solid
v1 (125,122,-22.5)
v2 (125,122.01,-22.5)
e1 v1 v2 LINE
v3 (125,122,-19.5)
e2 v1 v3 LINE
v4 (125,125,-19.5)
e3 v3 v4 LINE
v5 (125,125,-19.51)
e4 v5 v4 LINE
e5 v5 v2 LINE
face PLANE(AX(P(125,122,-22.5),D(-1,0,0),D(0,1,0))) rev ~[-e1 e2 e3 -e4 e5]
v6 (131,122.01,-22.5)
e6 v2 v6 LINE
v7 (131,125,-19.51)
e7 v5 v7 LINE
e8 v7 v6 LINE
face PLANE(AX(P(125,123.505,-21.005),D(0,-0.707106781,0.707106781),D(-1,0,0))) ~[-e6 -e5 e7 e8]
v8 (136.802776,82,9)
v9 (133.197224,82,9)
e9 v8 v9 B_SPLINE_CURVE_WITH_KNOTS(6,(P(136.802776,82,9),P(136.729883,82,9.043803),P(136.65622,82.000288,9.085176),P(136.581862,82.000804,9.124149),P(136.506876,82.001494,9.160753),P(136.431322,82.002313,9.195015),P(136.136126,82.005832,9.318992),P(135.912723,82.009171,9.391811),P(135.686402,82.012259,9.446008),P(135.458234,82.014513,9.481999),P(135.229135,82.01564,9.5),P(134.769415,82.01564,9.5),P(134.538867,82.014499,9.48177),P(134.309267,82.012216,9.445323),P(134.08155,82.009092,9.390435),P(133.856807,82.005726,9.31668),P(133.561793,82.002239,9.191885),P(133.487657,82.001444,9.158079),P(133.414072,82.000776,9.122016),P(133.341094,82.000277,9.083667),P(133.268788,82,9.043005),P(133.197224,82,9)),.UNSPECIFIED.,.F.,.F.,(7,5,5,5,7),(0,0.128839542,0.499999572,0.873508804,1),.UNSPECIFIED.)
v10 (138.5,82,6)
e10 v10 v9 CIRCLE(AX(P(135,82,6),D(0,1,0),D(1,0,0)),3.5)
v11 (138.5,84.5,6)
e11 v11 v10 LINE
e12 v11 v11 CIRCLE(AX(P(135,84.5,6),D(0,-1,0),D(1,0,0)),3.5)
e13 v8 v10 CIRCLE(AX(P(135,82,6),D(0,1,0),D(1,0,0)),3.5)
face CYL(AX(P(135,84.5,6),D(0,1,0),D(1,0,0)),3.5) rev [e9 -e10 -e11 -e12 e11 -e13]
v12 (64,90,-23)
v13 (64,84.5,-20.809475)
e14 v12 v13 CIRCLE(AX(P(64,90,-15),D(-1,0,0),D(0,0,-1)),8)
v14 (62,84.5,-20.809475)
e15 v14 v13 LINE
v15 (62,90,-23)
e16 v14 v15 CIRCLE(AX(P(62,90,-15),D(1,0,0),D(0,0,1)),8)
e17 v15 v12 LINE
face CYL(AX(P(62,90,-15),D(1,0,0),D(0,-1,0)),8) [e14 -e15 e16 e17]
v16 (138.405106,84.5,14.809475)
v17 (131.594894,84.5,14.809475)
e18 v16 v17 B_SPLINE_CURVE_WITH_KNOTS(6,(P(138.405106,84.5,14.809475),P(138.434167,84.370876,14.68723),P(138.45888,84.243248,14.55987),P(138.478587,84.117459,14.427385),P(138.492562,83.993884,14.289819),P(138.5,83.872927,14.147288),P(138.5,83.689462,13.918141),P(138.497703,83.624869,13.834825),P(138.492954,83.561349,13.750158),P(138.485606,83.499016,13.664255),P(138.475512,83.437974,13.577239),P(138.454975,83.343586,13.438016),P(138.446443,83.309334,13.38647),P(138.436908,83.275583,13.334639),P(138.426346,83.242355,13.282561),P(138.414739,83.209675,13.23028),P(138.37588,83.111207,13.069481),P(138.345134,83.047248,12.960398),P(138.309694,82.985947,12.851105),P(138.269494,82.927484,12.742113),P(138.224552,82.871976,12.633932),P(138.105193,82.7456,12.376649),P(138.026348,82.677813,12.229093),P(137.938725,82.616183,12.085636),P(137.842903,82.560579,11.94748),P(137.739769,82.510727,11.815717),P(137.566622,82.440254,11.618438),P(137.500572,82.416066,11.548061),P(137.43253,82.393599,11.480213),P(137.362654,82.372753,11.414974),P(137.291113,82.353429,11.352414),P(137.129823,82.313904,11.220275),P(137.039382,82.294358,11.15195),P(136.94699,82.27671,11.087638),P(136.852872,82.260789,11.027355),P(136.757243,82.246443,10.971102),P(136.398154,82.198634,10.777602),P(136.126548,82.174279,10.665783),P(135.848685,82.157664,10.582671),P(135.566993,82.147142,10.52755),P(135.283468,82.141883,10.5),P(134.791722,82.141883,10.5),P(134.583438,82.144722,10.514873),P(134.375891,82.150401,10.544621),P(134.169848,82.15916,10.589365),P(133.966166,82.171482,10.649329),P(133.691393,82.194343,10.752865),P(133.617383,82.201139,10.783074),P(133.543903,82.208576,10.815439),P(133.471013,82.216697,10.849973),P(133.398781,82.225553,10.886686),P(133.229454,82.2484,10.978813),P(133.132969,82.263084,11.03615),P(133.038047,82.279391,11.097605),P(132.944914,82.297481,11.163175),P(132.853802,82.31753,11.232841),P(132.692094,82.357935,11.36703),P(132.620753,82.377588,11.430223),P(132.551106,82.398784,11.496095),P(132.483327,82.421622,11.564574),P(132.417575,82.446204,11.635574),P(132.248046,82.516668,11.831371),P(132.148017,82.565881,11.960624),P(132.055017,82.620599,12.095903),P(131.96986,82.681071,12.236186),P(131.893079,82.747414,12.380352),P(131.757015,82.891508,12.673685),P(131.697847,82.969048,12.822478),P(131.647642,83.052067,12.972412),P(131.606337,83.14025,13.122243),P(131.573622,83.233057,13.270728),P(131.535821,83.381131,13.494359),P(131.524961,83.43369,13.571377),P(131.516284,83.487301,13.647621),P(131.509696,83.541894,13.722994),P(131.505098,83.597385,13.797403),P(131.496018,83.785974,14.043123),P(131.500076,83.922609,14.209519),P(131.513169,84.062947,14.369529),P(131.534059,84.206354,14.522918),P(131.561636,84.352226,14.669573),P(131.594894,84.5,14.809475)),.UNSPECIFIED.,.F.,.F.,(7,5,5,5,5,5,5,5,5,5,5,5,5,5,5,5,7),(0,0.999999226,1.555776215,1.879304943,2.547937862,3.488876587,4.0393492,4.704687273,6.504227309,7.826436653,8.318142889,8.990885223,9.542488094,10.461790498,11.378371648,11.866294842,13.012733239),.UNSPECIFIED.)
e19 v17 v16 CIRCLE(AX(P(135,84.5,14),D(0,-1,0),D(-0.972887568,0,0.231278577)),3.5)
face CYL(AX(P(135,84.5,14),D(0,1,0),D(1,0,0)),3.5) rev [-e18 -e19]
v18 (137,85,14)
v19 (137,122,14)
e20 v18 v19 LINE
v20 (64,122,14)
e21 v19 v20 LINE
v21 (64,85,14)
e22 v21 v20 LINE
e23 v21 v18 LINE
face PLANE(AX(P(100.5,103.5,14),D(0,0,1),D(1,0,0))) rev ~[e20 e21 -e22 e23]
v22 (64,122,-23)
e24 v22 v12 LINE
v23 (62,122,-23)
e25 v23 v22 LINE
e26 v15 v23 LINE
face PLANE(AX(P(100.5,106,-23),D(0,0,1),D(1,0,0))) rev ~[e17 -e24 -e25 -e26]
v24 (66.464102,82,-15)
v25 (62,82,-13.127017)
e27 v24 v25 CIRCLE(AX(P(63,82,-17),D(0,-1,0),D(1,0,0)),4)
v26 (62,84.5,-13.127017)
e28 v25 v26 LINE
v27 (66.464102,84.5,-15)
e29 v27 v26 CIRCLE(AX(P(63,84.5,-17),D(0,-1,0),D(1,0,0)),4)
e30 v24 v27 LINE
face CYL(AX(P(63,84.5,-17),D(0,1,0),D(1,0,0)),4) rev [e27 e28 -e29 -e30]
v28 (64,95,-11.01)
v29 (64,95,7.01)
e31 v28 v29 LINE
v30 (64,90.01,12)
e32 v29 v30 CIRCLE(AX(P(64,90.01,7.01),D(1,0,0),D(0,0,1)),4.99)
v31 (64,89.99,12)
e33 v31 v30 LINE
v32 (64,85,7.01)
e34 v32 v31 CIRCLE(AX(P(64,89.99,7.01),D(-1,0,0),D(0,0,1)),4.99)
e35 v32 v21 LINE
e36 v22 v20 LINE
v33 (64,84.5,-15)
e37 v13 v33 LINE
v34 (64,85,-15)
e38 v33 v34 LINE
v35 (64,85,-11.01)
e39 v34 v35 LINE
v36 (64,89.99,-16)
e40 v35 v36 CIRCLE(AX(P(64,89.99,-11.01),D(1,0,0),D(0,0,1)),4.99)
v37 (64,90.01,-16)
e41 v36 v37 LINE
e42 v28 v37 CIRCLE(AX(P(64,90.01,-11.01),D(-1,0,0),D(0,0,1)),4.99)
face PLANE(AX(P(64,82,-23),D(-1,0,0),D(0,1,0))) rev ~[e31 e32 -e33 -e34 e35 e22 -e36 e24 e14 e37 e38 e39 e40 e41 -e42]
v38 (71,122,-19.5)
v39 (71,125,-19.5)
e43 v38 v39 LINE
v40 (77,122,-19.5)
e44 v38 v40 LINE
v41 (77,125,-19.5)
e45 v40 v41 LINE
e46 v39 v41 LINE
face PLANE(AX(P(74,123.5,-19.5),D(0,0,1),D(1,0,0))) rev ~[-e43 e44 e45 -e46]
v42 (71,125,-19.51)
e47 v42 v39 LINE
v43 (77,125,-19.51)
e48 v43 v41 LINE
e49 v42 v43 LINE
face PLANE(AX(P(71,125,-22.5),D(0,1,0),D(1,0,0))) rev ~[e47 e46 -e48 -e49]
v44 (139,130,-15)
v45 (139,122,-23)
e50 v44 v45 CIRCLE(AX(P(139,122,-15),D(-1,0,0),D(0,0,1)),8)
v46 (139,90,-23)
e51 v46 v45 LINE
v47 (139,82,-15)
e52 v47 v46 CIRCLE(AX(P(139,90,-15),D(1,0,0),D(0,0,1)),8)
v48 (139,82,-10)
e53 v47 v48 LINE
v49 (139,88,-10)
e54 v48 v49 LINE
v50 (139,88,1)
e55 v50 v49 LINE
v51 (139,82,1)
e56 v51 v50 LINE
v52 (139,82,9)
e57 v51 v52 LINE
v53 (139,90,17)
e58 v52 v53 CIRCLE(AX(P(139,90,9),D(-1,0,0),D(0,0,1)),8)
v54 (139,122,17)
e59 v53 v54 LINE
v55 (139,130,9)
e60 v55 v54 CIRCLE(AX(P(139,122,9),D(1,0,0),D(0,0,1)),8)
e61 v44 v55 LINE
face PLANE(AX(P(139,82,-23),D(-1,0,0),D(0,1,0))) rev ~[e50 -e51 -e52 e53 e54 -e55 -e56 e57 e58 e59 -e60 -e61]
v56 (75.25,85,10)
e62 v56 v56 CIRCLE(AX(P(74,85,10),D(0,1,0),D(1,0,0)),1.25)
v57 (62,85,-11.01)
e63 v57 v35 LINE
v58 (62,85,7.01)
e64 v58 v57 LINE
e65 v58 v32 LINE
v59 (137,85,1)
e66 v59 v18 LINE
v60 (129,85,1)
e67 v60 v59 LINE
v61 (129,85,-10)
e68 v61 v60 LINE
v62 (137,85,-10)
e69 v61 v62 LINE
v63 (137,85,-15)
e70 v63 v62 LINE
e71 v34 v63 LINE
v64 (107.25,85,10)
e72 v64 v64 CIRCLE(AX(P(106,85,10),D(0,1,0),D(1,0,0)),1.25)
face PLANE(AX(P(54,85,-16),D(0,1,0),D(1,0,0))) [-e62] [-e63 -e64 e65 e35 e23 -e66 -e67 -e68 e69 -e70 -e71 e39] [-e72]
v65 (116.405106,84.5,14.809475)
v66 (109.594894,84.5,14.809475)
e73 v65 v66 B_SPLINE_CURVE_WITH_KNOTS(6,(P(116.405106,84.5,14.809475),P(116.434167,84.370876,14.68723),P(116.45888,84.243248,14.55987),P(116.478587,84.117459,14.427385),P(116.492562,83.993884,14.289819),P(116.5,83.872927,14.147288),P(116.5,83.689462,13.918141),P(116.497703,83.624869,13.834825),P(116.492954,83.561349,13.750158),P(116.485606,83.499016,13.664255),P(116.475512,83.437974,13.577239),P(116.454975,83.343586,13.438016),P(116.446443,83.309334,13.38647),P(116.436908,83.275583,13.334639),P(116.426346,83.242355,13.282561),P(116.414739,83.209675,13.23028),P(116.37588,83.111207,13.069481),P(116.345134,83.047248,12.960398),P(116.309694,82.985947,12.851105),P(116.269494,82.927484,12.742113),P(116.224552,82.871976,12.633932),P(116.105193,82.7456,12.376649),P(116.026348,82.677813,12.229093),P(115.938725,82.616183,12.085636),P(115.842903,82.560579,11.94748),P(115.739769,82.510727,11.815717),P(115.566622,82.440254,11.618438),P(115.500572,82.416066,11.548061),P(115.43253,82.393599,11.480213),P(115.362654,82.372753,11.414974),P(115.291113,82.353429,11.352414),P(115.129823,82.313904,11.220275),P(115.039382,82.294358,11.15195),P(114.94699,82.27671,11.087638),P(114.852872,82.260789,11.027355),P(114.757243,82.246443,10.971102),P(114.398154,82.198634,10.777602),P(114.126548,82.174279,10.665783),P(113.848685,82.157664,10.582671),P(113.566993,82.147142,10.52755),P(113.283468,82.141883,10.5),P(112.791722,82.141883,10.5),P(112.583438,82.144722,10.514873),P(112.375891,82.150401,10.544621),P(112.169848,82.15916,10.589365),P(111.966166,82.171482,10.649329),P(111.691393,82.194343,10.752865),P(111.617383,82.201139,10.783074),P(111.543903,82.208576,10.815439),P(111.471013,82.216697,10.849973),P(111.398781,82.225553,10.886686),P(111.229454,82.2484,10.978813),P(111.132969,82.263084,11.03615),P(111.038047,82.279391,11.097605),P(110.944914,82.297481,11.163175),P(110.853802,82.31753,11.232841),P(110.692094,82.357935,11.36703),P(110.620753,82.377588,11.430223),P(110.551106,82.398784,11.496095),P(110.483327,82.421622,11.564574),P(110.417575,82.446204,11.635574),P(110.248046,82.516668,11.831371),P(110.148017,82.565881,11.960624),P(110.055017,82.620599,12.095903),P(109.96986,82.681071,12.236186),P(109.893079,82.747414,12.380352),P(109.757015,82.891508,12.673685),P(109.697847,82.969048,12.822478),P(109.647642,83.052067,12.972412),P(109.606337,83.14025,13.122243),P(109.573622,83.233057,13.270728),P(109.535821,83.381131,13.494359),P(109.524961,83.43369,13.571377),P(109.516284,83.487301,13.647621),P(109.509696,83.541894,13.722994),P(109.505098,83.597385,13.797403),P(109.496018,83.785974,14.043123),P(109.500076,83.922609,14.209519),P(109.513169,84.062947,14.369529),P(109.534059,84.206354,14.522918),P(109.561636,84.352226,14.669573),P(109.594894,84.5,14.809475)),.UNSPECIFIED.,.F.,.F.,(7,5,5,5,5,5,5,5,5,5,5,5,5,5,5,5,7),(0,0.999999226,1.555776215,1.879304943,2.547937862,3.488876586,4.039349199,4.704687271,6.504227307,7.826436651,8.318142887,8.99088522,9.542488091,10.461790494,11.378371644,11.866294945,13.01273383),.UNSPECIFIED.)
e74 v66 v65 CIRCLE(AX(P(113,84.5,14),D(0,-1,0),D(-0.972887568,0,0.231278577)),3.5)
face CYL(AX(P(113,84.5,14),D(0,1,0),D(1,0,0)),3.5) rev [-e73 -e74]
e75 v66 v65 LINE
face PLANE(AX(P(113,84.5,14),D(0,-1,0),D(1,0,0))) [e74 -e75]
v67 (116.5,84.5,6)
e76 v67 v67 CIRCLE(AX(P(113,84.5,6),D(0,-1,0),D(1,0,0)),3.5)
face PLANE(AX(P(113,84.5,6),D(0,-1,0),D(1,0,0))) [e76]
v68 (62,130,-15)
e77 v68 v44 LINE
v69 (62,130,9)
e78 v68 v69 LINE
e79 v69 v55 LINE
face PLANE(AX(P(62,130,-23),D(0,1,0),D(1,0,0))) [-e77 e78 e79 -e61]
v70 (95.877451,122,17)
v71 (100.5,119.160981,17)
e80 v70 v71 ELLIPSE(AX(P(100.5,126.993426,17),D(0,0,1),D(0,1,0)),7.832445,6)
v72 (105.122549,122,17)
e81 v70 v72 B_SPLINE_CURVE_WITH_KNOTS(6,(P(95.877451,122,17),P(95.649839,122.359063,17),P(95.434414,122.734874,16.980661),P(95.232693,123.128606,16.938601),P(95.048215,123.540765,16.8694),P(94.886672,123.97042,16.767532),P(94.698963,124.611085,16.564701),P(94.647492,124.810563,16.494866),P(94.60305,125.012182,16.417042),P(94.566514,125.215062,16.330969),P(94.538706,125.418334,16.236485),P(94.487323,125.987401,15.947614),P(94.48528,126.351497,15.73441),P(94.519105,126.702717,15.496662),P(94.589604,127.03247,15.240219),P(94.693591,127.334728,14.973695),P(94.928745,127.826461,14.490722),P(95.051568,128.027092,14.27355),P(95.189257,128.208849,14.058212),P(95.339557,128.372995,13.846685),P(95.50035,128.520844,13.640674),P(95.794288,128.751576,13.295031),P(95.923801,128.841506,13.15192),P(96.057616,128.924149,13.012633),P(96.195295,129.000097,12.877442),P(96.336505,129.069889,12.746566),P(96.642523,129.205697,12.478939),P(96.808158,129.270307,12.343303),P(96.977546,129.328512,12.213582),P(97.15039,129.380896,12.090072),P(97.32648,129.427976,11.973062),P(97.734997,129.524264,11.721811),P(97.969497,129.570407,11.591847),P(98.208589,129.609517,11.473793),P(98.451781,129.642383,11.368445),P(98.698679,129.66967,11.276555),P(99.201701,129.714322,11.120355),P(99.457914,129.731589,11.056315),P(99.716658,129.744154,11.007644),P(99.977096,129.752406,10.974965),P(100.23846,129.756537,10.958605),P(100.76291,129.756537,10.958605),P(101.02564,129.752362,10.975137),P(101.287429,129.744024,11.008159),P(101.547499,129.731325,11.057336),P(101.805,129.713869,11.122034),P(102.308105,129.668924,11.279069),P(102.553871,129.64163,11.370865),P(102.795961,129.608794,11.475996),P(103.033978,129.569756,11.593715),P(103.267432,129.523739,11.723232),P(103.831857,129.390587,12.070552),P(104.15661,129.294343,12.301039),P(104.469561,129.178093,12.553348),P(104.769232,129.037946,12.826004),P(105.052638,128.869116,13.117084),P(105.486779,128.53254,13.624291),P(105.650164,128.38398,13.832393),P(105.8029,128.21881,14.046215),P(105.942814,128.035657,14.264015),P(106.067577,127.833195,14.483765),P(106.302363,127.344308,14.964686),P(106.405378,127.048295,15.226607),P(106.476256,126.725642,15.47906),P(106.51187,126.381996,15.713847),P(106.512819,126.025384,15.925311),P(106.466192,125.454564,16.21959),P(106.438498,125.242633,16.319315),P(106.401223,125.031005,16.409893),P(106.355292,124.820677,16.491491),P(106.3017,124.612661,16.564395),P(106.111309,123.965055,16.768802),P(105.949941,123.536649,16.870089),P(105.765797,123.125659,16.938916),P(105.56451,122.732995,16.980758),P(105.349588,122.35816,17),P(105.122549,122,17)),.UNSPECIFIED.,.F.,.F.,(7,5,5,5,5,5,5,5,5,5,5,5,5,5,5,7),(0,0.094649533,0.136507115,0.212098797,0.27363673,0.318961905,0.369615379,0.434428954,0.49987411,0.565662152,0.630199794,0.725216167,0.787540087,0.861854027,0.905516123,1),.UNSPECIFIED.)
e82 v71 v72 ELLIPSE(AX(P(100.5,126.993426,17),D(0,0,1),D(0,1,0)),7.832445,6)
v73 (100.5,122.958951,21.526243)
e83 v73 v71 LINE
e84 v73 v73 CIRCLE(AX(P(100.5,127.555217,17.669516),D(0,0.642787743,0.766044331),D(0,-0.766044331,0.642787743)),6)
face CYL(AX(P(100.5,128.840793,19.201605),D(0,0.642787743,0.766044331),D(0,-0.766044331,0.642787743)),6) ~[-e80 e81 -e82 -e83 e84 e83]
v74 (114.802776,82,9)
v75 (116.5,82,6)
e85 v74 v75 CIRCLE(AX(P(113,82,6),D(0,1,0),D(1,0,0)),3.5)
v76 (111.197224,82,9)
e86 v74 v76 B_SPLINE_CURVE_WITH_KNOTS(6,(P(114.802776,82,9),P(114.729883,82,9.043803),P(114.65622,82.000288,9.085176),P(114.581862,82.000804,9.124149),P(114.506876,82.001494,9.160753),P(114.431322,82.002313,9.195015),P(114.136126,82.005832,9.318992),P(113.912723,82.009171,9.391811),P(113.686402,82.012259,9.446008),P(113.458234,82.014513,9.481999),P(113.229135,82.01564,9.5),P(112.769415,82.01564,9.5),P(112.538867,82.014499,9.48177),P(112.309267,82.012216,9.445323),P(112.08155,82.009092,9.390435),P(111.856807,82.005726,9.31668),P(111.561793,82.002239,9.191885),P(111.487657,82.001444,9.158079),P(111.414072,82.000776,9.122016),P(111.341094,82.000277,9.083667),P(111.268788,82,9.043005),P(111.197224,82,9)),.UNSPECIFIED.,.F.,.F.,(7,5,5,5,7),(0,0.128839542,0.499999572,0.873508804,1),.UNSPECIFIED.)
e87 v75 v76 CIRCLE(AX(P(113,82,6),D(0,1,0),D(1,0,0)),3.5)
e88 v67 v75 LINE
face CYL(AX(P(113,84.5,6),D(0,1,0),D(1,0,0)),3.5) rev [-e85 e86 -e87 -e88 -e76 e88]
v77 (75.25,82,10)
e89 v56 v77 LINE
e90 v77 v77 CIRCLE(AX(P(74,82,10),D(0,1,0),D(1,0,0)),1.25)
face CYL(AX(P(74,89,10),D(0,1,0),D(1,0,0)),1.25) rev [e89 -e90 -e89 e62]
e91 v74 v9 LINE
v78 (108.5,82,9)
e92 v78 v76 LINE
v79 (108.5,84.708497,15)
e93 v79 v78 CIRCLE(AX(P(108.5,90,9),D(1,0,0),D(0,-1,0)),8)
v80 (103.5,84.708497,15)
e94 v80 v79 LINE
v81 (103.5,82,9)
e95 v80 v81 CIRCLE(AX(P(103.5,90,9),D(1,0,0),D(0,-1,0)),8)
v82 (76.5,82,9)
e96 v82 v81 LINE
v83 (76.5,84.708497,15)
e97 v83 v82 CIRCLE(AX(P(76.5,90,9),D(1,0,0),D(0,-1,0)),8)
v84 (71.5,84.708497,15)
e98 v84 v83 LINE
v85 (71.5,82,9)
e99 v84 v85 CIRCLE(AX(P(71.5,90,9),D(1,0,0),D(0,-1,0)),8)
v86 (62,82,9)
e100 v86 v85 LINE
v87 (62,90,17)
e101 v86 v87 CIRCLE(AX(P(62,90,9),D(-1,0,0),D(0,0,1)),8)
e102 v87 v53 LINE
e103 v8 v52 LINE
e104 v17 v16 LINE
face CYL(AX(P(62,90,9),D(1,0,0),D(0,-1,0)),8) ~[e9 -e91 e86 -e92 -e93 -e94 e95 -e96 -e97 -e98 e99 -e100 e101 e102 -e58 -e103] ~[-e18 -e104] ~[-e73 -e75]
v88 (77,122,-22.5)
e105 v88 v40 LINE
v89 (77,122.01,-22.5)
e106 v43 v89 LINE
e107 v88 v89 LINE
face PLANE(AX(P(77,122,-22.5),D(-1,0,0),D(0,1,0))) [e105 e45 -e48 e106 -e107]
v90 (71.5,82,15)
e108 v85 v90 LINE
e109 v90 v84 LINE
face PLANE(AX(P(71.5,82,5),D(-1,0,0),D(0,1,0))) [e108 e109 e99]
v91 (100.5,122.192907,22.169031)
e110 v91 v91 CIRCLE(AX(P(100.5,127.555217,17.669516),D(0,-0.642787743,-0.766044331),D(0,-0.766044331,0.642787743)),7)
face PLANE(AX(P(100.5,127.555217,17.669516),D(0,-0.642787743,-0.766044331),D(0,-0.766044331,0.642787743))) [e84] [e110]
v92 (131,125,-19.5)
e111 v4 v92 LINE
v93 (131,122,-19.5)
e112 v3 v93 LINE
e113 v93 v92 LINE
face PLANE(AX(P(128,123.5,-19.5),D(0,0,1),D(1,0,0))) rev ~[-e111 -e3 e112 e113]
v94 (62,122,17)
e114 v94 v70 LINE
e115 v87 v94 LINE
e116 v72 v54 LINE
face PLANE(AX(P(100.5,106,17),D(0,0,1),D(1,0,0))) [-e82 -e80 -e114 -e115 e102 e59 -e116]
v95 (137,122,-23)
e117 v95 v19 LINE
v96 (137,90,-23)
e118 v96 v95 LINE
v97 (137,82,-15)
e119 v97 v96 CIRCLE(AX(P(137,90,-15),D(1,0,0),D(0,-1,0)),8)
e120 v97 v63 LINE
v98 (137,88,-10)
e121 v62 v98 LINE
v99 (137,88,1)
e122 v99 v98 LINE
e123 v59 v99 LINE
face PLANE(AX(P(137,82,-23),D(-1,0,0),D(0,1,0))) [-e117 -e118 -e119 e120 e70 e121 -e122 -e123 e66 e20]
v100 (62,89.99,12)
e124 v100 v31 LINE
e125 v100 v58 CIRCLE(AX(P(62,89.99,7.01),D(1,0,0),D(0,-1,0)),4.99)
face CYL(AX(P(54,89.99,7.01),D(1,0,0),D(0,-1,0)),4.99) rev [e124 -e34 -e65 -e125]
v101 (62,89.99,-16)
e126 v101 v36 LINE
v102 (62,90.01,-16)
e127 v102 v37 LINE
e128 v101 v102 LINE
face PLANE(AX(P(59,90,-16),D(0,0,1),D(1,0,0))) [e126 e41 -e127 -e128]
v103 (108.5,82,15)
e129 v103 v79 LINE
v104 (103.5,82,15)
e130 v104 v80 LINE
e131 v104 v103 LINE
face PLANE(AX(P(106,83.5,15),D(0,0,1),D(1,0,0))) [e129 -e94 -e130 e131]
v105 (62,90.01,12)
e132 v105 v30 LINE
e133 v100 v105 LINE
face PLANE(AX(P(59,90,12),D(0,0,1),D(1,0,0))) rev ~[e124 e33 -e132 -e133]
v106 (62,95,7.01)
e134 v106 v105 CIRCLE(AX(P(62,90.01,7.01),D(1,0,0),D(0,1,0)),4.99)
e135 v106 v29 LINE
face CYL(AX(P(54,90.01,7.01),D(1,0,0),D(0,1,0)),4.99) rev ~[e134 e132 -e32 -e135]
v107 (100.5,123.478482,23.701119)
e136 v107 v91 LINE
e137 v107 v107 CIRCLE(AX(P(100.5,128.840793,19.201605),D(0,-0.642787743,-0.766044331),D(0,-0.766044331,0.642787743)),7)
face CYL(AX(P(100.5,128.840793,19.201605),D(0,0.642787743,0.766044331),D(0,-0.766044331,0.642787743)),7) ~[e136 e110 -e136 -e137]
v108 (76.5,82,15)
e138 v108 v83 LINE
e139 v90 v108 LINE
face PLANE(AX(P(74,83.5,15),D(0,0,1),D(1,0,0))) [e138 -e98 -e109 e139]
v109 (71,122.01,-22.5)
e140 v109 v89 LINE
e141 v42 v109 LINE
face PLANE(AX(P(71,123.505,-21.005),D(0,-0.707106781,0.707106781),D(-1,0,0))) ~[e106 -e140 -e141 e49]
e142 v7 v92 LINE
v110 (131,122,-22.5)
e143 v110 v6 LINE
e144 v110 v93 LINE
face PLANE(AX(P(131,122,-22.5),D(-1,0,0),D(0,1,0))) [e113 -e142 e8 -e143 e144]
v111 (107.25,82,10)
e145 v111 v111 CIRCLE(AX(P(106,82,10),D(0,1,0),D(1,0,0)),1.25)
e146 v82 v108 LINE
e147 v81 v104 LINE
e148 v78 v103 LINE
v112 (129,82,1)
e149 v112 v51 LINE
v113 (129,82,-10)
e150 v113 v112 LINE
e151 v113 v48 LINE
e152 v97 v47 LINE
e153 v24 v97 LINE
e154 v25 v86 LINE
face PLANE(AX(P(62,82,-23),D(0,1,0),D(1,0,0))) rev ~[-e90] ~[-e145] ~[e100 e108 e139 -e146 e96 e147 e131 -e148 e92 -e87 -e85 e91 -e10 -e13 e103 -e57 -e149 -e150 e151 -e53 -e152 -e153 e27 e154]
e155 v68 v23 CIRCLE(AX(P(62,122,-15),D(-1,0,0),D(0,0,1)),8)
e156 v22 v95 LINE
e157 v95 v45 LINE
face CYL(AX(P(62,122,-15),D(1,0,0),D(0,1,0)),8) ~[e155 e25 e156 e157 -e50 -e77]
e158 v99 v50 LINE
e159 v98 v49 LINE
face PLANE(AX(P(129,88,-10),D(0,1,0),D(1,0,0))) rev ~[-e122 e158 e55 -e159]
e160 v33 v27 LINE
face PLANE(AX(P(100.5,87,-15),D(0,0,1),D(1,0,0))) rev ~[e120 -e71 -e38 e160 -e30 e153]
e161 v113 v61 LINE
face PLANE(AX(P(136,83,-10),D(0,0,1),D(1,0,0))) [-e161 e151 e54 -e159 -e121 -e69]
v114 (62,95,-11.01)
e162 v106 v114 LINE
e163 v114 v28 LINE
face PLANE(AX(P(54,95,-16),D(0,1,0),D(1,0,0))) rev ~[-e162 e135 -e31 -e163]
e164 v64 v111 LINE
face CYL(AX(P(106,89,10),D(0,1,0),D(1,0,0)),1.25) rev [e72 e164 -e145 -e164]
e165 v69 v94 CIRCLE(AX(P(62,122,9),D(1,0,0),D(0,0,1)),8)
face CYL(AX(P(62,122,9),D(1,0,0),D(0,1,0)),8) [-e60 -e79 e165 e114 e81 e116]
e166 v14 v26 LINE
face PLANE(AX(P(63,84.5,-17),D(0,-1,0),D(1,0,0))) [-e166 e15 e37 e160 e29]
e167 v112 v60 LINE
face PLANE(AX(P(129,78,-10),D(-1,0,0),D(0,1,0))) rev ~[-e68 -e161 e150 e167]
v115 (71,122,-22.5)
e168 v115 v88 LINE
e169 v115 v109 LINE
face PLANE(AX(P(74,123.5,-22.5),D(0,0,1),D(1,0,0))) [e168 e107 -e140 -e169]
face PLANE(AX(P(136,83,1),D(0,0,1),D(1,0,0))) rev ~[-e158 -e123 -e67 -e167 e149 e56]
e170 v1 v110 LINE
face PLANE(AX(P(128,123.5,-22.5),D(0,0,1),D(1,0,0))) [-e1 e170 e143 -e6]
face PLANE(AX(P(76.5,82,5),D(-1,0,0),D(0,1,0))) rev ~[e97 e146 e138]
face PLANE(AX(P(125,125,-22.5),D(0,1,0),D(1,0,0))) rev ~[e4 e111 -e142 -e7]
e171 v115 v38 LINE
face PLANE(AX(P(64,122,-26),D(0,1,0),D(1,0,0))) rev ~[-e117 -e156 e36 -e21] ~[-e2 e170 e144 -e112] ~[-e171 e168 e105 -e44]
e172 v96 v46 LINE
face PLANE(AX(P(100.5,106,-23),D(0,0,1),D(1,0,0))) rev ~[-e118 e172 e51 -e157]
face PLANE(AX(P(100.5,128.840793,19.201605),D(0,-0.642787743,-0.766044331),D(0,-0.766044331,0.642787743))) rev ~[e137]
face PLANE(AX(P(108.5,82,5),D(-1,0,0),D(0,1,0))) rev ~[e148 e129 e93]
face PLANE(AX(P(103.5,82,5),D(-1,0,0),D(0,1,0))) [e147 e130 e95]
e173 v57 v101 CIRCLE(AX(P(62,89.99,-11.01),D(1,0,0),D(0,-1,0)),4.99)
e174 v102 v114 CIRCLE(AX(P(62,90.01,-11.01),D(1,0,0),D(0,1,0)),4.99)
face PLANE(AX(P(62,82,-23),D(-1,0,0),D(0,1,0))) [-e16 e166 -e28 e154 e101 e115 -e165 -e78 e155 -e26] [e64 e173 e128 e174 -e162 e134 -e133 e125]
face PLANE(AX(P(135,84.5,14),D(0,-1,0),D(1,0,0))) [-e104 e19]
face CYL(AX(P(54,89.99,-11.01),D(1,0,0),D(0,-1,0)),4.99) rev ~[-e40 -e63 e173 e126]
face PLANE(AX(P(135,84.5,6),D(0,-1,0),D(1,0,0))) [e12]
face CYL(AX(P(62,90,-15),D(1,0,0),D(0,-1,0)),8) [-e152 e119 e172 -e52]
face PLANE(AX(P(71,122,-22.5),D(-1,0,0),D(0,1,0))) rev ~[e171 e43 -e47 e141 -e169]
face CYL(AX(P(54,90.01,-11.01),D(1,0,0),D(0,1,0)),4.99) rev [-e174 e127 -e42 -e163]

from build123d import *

# Parameters (mm, degrees)
CYLINDER027_R               = 4
CYLINDER027_DEPTH           = 2.5
CYLINDER027_ROLL_ANGLE      = 90
BOX036_W                    = 14
BOX036_H                    = 10
BOX036_DEPTH                = 11
CYLINDER023_R               = 1.25
CYLINDER023_DEPTH           = 15
CYLINDER023_ROLL_ANGLE      = 90
CYLINDER024_R               = 1.25
CYLINDER024_DEPTH           = 15
CYLINDER024_ROLL_ANGLE      = 90
CYLINDER018_R               = 3.5
CYLINDER018_DEPTH           = 10
CYLINDER019_R               = 3.5
CYLINDER019_DEPTH           = 10
FUSION020_ROLL_ANGLE        = 90
CYLINDER021_R               = 3.5
CYLINDER021_DEPTH           = 10
CYLINDER020_R               = 3.5
CYLINDER020_DEPTH           = 10
FUSION022_ROLL_ANGLE        = 90
BOX018_W                    = 5
BOX018_H                    = 3
BOX018_DEPTH                = 10
BOX035_W                    = 5
BOX035_H                    = 3
BOX035_DEPTH                = 10
BOX025_W                    = 20
BOX025_H                    = 10
BOX025_DEPTH                = 5
BOX024_W                    = 10
BOX024_H                    = 10
BOX024_DEPTH                = 28
FILLET010_R                 = 4.99
BOX022_W                    = 6
BOX022_H                    = 3
BOX022_DEPTH                = 3
CHAMFER002_SIZE             = 2.99
BOX020_W                    = 6
BOX020_H                    = 3
BOX020_DEPTH                = 3
CHAMFER_SIZE                = 2.99
BOX010_W                    = 73
BOX010_H                    = 10
BOX010_DEPTH                = 8
BOX002_W                    = 73
BOX002_H                    = 37
BOX002_DEPTH                = 40
BOX_W                       = 77
BOX_H                       = 48
BOX_DEPTH                   = 40
FILLET_R                    = 8
CYLINDER001_R               = 7
CYLINDER001_DEPTH           = 2
CYLINDER001_PLACEMENT_ANGLE = 29.99999
CYLINDER_R                  = 6
CYLINDER_DEPTH              = 10
CYLINDER_PLACEMENT_ANGLE    = 29.99999
FUSION004_ROLL_ANGLE        = 180
FUSION004_PITCH_ANGLE       = -70
FUSION004_PLACEMENT_ANGLE   = -90


with BuildPart() as cylinder027:
    # Cylinder027 → Cylinder027 (new body)
    with BuildSketch(Plane.XY):
        Circle(CYLINDER027_R)
    extrude(amount=CYLINDER027_DEPTH)


with BuildPart() as cylinder027_1:
    # Cylinder027 roll: moved
    add(cylinder027.part.rotate(Axis((0, 0, 0), (1, 0, 0)), CYLINDER027_ROLL_ANGLE))


with BuildPart() as cylinder027_2:
    # Cylinder027 placement: moved
    add(cylinder027_1.part.moved(Location((63, 84.5, -17))))


with BuildPart() as cube:
    # Box036 → Box036 (new body)
    with BuildSketch(Plane(origin=(129, 78, -10), x_dir=(1, 0, 0), z_dir=(0, 0, 1))):
        with Locations((7, 5)):
            Rectangle(BOX036_W, BOX036_H)
    extrude(amount=BOX036_DEPTH)


with BuildPart() as cylinder023:
    # Cylinder023 → Cylinder023 (new body)
    with BuildSketch(Plane.XY):
        Circle(CYLINDER023_R)
    extrude(amount=CYLINDER023_DEPTH)


with BuildPart() as cylinder023_1:
    # Cylinder023 roll: moved
    add(cylinder023.part.rotate(Axis((0, 0, 0), (1, 0, 0)), CYLINDER023_ROLL_ANGLE))


with BuildPart() as cylinder023_2:
    # Cylinder023 placement: moved
    add(cylinder023_1.part.moved(Location((74, 97, 10))))


with BuildPart() as fusion031:
    # Cylinder024 → Cylinder024 (new body)
    with BuildSketch(Plane.XY):
        Circle(CYLINDER024_R)
    extrude(amount=CYLINDER024_DEPTH)


with BuildPart() as fusion031_1:
    # Cylinder024 roll: moved
    add(fusion031.part.rotate(Axis((0, 0, 0), (1, 0, 0)), CYLINDER024_ROLL_ANGLE))


with BuildPart() as fusion031_2:
    # Cylinder024 placement: moved
    add(fusion031_1.part.moved(Location((106, 97, 10))))

    # Fusion031: union Cylinder023
    add(cylinder023_2.part)


with BuildPart() as fusion031_3:
    # Fusion031 placement: moved
    add(fusion031_2.part.moved(Location((0, -8, 0))))


with BuildPart() as cylinder018:
    # Cylinder018 → Cylinder018 (new body)
    with BuildSketch(Plane(origin=(-8, 25.5, 0), x_dir=(1, 0, 0), z_dir=(0, 0, 1))):
        Circle(CYLINDER018_R)
    extrude(amount=CYLINDER018_DEPTH)


with BuildPart() as fusion020:
    # Cylinder019 → Cylinder019 (new body)
    with BuildSketch(Plane(origin=(-8, 33.5, 0), x_dir=(1, 0, 0), z_dir=(0, 0, 1))):
        Circle(CYLINDER019_R)
    extrude(amount=CYLINDER019_DEPTH)

    # Fusion020: union Cylinder018
    add(cylinder018.part)


with BuildPart() as fusion020_1:
    # Fusion020 roll: moved
    add(fusion020.part.rotate(Axis((0, 0, 0), (1, 0, 0)), FUSION020_ROLL_ANGLE))


with BuildPart() as fusion020_2:
    # Fusion020 placement: moved
    add(fusion020_1.part.moved(Location((312, 84.5, -19.5))))


with BuildPart() as cylinder021:
    # Cylinder021 → Cylinder021 (new body)
    with BuildSketch(Plane(origin=(-8, 25.5, 0), x_dir=(1, 0, 0), z_dir=(0, 0, 1))):
        Circle(CYLINDER021_R)
    extrude(amount=CYLINDER021_DEPTH)


with BuildPart() as fusion023:
    # Cylinder020 → Cylinder020 (new body)
    with BuildSketch(Plane(origin=(-8, 33.5, 0), x_dir=(1, 0, 0), z_dir=(0, 0, 1))):
        Circle(CYLINDER020_R)
    extrude(amount=CYLINDER020_DEPTH)

    # Fusion022: union Cylinder021
    add(cylinder021.part)


with BuildPart() as fusion023_1:
    # Fusion022 roll: moved
    add(fusion023.part.rotate(Axis((0, 0, 0), (1, 0, 0)), FUSION022_ROLL_ANGLE))


with BuildPart() as fusion023_2:
    # Fusion022 placement: moved
    add(fusion023_1.part.moved(Location((334, 84.5, -19.5))))

    # Fusion023: union Fusion020
    add(fusion020_2.part)


with BuildPart() as fusion023_3:
    # Fusion023 placement: moved
    add(fusion023_2.part.moved(Location((-191, 0, 0))))


with BuildPart() as box018:
    # Box018 → Box018 (new body)
    with BuildSketch(Plane(origin=(71.5, 82, 5), x_dir=(1, 0, 0), z_dir=(0, 0, 1))):
        with Locations((2.5, 1.5)):
            Rectangle(BOX018_W, BOX018_H)
    extrude(amount=BOX018_DEPTH)


with BuildPart() as box035:
    # Box035 → Box035 (new body)
    with BuildSketch(Plane(origin=(103.5, 82, 5), x_dir=(1, 0, 0), z_dir=(0, 0, 1))):
        with Locations((2.5, 1.5)):
            Rectangle(BOX035_W, BOX035_H)
    extrude(amount=BOX035_DEPTH)


with BuildPart() as box025:
    # Box025 → Box025 (new body)
    with BuildSketch(Plane(origin=(90, 112, 9), x_dir=(1, 0, 0), z_dir=(0, 0, 1))):
        with Locations((10, 5)):
            Rectangle(BOX025_W, BOX025_H)
    extrude(amount=BOX025_DEPTH)


with BuildPart() as fillet010:
    # Box024 → Box024 (new body)
    with BuildSketch(Plane(origin=(54, 85, -16), x_dir=(1, 0, 0), z_dir=(0, 0, 1))):
        with Locations((5, 5)):
            Rectangle(BOX024_W, BOX024_H)
    extrude(amount=BOX024_DEPTH)

    # Fillet010
    fillet010_edges = [fillet010.edges().sort_by_distance(p)[0] for p in [
        (59, 85, -16),
        (59, 85, 12),
        (59, 95, -16),
        (59, 95, 12),
    ]]
    fillet(fillet010_edges, radius=FILLET010_R)


with BuildPart() as chamfer002:
    # Box022 → Box022 (new body)
    with BuildSketch(Plane(origin=(70, 113, -23), x_dir=(1, 0, 0), z_dir=(0, 0, 1))):
        with Locations((3, 1.5)):
            Rectangle(BOX022_W, BOX022_H)
    extrude(amount=BOX022_DEPTH)

    # Chamfer002
    chamfer002_edges = [chamfer002.edges().sort_by_distance(p)[0] for p in [
        (73, 116, -23),
    ]]
    chamfer(chamfer002_edges, length=CHAMFER002_SIZE)


with BuildPart() as chamfer002_1:
    # Chamfer002 placement: moved
    add(chamfer002.part.moved(Location((55, 9, 0.5))))


with BuildPart() as fusion028:
    # Box020 → Box020 (new body)
    with BuildSketch(Plane(origin=(70, 113, -23), x_dir=(1, 0, 0), z_dir=(0, 0, 1))):
        with Locations((3, 1.5)):
            Rectangle(BOX020_W, BOX020_H)
    extrude(amount=BOX020_DEPTH)

    # Chamfer
    chamfer_edges = [fusion028.edges().sort_by_distance(p)[0] for p in [
        (73, 116, -23),
    ]]
    chamfer(chamfer_edges, length=CHAMFER_SIZE)


with BuildPart() as fusion028_1:
    # Chamfer placement: moved
    add(fusion028.part.moved(Location((1, 9, 0.5))))

    # Fusion028: union Chamfer002
    add(chamfer002_1.part)


with BuildPart() as box010:
    # Box010 → Box010 (new body)
    with BuildSketch(Plane(origin=(64, 82, -23), x_dir=(1, 0, 0), z_dir=(0, 0, 1))):
        with Locations((36.5, 5)):
            Rectangle(BOX010_W, BOX010_H)
    extrude(amount=BOX010_DEPTH)


with BuildPart() as box002:
    # Box002 → Box002 (new body)
    with BuildSketch(Plane(origin=(64, 85, -26), x_dir=(1, 0, 0), z_dir=(0, 0, 1))):
        with Locations((36.5, 18.5)):
            Rectangle(BOX002_W, BOX002_H)
    extrude(amount=BOX002_DEPTH)


with BuildPart() as cut019:
    # Box → Box (new body)
    with BuildSketch(Plane(origin=(62, 82, -27), x_dir=(1, 0, 0), z_dir=(0, 0, 1))):
        with Locations((38.5, 24)):
            Rectangle(BOX_W, BOX_H)
    extrude(amount=BOX_DEPTH)

    # Fillet
    fillet_edges = [cut019.edges().sort_by_distance(p)[0] for p in [
        (100.5, 82, -27),
        (100.5, 82, 13),
        (100.5, 130, -27),
        (100.5, 130, 13),
    ]]
    fillet(fillet_edges, radius=FILLET_R)


with BuildPart() as cut019_1:
    # Fillet placement: moved
    add(cut019.part.moved(Location((0, 0, 4))))

    # Cut001: cut Box002
    add(box002.part, mode=Mode.SUBTRACT)

    # Cut004: cut Box010
    add(box010.part, mode=Mode.SUBTRACT)

    # Cut018: cut Fusion028
    add(fusion028_1.part, mode=Mode.SUBTRACT)

    # Cut019: cut Fillet010
    add(fillet010.part, mode=Mode.SUBTRACT)


with BuildPart() as cylinder001:
    # Cylinder001 → Cylinder001 (new body)
    with BuildSketch(Plane.XY):
        Circle(CYLINDER001_R)
    extrude(amount=CYLINDER001_DEPTH)


with BuildPart() as cylinder001_1:
    # Cylinder001 placement: moved
    add(cylinder001.part.moved(Location((51, 75, -3))).rotate(Axis((51, 75, -3), (0, -1, 0)), CYLINDER001_PLACEMENT_ANGLE))


with BuildPart() as cut025:
    # Cylinder → Cylinder (new body)
    with BuildSketch(Plane.XY):
        Circle(CYLINDER_R)
    extrude(amount=CYLINDER_DEPTH)


with BuildPart() as cut025_1:
    # Cylinder placement: moved
    add(cut025.part.moved(Location((51, 75, -3))).rotate(Axis((51, 75, -3), (0, -1, 0)), CYLINDER_PLACEMENT_ANGLE))

    # Fusion004: union Cylinder001
    add(cylinder001_1.part)


with BuildPart() as cut025_2:
    # Fusion004 roll: moved
    add(cut025_1.part.rotate(Axis((0, 0, 0), (1, 0, 0)), FUSION004_ROLL_ANGLE))


with BuildPart() as cut025_3:
    # Fusion004 pitch: moved
    add(cut025_2.part.rotate(Axis((0, 0, 0), (0, 1, 0)), FUSION004_PITCH_ANGLE))


with BuildPart() as cut025_4:
    # Fusion004 placement: moved
    add(cut025_3.part.moved(Location((175.5, 143.464742, -29.748779))).rotate(Axis((175.5, 143.464742, -29.748779), (0, 0, 1)), FUSION004_PLACEMENT_ANGLE))

    # Fusion029: union Cut019
    add(cut019_1.part)

    # Cut020: cut Box025
    add(box025.part, mode=Mode.SUBTRACT)

    # Fusion030: union Box018, Box035
    add(box018.part)
    add(box035.part)

    # Cut021: cut Fusion023
    add(fusion023_3.part, mode=Mode.SUBTRACT)

    # Cut022: cut Fusion031
    add(fusion031_3.part, mode=Mode.SUBTRACT)

    # Cut023: cut Cube
    add(cube.part, mode=Mode.SUBTRACT)

    # Cut025: cut Cylinder027
    add(cylinder027_2.part, mode=Mode.SUBTRACT)


solid = cut025_4.part
